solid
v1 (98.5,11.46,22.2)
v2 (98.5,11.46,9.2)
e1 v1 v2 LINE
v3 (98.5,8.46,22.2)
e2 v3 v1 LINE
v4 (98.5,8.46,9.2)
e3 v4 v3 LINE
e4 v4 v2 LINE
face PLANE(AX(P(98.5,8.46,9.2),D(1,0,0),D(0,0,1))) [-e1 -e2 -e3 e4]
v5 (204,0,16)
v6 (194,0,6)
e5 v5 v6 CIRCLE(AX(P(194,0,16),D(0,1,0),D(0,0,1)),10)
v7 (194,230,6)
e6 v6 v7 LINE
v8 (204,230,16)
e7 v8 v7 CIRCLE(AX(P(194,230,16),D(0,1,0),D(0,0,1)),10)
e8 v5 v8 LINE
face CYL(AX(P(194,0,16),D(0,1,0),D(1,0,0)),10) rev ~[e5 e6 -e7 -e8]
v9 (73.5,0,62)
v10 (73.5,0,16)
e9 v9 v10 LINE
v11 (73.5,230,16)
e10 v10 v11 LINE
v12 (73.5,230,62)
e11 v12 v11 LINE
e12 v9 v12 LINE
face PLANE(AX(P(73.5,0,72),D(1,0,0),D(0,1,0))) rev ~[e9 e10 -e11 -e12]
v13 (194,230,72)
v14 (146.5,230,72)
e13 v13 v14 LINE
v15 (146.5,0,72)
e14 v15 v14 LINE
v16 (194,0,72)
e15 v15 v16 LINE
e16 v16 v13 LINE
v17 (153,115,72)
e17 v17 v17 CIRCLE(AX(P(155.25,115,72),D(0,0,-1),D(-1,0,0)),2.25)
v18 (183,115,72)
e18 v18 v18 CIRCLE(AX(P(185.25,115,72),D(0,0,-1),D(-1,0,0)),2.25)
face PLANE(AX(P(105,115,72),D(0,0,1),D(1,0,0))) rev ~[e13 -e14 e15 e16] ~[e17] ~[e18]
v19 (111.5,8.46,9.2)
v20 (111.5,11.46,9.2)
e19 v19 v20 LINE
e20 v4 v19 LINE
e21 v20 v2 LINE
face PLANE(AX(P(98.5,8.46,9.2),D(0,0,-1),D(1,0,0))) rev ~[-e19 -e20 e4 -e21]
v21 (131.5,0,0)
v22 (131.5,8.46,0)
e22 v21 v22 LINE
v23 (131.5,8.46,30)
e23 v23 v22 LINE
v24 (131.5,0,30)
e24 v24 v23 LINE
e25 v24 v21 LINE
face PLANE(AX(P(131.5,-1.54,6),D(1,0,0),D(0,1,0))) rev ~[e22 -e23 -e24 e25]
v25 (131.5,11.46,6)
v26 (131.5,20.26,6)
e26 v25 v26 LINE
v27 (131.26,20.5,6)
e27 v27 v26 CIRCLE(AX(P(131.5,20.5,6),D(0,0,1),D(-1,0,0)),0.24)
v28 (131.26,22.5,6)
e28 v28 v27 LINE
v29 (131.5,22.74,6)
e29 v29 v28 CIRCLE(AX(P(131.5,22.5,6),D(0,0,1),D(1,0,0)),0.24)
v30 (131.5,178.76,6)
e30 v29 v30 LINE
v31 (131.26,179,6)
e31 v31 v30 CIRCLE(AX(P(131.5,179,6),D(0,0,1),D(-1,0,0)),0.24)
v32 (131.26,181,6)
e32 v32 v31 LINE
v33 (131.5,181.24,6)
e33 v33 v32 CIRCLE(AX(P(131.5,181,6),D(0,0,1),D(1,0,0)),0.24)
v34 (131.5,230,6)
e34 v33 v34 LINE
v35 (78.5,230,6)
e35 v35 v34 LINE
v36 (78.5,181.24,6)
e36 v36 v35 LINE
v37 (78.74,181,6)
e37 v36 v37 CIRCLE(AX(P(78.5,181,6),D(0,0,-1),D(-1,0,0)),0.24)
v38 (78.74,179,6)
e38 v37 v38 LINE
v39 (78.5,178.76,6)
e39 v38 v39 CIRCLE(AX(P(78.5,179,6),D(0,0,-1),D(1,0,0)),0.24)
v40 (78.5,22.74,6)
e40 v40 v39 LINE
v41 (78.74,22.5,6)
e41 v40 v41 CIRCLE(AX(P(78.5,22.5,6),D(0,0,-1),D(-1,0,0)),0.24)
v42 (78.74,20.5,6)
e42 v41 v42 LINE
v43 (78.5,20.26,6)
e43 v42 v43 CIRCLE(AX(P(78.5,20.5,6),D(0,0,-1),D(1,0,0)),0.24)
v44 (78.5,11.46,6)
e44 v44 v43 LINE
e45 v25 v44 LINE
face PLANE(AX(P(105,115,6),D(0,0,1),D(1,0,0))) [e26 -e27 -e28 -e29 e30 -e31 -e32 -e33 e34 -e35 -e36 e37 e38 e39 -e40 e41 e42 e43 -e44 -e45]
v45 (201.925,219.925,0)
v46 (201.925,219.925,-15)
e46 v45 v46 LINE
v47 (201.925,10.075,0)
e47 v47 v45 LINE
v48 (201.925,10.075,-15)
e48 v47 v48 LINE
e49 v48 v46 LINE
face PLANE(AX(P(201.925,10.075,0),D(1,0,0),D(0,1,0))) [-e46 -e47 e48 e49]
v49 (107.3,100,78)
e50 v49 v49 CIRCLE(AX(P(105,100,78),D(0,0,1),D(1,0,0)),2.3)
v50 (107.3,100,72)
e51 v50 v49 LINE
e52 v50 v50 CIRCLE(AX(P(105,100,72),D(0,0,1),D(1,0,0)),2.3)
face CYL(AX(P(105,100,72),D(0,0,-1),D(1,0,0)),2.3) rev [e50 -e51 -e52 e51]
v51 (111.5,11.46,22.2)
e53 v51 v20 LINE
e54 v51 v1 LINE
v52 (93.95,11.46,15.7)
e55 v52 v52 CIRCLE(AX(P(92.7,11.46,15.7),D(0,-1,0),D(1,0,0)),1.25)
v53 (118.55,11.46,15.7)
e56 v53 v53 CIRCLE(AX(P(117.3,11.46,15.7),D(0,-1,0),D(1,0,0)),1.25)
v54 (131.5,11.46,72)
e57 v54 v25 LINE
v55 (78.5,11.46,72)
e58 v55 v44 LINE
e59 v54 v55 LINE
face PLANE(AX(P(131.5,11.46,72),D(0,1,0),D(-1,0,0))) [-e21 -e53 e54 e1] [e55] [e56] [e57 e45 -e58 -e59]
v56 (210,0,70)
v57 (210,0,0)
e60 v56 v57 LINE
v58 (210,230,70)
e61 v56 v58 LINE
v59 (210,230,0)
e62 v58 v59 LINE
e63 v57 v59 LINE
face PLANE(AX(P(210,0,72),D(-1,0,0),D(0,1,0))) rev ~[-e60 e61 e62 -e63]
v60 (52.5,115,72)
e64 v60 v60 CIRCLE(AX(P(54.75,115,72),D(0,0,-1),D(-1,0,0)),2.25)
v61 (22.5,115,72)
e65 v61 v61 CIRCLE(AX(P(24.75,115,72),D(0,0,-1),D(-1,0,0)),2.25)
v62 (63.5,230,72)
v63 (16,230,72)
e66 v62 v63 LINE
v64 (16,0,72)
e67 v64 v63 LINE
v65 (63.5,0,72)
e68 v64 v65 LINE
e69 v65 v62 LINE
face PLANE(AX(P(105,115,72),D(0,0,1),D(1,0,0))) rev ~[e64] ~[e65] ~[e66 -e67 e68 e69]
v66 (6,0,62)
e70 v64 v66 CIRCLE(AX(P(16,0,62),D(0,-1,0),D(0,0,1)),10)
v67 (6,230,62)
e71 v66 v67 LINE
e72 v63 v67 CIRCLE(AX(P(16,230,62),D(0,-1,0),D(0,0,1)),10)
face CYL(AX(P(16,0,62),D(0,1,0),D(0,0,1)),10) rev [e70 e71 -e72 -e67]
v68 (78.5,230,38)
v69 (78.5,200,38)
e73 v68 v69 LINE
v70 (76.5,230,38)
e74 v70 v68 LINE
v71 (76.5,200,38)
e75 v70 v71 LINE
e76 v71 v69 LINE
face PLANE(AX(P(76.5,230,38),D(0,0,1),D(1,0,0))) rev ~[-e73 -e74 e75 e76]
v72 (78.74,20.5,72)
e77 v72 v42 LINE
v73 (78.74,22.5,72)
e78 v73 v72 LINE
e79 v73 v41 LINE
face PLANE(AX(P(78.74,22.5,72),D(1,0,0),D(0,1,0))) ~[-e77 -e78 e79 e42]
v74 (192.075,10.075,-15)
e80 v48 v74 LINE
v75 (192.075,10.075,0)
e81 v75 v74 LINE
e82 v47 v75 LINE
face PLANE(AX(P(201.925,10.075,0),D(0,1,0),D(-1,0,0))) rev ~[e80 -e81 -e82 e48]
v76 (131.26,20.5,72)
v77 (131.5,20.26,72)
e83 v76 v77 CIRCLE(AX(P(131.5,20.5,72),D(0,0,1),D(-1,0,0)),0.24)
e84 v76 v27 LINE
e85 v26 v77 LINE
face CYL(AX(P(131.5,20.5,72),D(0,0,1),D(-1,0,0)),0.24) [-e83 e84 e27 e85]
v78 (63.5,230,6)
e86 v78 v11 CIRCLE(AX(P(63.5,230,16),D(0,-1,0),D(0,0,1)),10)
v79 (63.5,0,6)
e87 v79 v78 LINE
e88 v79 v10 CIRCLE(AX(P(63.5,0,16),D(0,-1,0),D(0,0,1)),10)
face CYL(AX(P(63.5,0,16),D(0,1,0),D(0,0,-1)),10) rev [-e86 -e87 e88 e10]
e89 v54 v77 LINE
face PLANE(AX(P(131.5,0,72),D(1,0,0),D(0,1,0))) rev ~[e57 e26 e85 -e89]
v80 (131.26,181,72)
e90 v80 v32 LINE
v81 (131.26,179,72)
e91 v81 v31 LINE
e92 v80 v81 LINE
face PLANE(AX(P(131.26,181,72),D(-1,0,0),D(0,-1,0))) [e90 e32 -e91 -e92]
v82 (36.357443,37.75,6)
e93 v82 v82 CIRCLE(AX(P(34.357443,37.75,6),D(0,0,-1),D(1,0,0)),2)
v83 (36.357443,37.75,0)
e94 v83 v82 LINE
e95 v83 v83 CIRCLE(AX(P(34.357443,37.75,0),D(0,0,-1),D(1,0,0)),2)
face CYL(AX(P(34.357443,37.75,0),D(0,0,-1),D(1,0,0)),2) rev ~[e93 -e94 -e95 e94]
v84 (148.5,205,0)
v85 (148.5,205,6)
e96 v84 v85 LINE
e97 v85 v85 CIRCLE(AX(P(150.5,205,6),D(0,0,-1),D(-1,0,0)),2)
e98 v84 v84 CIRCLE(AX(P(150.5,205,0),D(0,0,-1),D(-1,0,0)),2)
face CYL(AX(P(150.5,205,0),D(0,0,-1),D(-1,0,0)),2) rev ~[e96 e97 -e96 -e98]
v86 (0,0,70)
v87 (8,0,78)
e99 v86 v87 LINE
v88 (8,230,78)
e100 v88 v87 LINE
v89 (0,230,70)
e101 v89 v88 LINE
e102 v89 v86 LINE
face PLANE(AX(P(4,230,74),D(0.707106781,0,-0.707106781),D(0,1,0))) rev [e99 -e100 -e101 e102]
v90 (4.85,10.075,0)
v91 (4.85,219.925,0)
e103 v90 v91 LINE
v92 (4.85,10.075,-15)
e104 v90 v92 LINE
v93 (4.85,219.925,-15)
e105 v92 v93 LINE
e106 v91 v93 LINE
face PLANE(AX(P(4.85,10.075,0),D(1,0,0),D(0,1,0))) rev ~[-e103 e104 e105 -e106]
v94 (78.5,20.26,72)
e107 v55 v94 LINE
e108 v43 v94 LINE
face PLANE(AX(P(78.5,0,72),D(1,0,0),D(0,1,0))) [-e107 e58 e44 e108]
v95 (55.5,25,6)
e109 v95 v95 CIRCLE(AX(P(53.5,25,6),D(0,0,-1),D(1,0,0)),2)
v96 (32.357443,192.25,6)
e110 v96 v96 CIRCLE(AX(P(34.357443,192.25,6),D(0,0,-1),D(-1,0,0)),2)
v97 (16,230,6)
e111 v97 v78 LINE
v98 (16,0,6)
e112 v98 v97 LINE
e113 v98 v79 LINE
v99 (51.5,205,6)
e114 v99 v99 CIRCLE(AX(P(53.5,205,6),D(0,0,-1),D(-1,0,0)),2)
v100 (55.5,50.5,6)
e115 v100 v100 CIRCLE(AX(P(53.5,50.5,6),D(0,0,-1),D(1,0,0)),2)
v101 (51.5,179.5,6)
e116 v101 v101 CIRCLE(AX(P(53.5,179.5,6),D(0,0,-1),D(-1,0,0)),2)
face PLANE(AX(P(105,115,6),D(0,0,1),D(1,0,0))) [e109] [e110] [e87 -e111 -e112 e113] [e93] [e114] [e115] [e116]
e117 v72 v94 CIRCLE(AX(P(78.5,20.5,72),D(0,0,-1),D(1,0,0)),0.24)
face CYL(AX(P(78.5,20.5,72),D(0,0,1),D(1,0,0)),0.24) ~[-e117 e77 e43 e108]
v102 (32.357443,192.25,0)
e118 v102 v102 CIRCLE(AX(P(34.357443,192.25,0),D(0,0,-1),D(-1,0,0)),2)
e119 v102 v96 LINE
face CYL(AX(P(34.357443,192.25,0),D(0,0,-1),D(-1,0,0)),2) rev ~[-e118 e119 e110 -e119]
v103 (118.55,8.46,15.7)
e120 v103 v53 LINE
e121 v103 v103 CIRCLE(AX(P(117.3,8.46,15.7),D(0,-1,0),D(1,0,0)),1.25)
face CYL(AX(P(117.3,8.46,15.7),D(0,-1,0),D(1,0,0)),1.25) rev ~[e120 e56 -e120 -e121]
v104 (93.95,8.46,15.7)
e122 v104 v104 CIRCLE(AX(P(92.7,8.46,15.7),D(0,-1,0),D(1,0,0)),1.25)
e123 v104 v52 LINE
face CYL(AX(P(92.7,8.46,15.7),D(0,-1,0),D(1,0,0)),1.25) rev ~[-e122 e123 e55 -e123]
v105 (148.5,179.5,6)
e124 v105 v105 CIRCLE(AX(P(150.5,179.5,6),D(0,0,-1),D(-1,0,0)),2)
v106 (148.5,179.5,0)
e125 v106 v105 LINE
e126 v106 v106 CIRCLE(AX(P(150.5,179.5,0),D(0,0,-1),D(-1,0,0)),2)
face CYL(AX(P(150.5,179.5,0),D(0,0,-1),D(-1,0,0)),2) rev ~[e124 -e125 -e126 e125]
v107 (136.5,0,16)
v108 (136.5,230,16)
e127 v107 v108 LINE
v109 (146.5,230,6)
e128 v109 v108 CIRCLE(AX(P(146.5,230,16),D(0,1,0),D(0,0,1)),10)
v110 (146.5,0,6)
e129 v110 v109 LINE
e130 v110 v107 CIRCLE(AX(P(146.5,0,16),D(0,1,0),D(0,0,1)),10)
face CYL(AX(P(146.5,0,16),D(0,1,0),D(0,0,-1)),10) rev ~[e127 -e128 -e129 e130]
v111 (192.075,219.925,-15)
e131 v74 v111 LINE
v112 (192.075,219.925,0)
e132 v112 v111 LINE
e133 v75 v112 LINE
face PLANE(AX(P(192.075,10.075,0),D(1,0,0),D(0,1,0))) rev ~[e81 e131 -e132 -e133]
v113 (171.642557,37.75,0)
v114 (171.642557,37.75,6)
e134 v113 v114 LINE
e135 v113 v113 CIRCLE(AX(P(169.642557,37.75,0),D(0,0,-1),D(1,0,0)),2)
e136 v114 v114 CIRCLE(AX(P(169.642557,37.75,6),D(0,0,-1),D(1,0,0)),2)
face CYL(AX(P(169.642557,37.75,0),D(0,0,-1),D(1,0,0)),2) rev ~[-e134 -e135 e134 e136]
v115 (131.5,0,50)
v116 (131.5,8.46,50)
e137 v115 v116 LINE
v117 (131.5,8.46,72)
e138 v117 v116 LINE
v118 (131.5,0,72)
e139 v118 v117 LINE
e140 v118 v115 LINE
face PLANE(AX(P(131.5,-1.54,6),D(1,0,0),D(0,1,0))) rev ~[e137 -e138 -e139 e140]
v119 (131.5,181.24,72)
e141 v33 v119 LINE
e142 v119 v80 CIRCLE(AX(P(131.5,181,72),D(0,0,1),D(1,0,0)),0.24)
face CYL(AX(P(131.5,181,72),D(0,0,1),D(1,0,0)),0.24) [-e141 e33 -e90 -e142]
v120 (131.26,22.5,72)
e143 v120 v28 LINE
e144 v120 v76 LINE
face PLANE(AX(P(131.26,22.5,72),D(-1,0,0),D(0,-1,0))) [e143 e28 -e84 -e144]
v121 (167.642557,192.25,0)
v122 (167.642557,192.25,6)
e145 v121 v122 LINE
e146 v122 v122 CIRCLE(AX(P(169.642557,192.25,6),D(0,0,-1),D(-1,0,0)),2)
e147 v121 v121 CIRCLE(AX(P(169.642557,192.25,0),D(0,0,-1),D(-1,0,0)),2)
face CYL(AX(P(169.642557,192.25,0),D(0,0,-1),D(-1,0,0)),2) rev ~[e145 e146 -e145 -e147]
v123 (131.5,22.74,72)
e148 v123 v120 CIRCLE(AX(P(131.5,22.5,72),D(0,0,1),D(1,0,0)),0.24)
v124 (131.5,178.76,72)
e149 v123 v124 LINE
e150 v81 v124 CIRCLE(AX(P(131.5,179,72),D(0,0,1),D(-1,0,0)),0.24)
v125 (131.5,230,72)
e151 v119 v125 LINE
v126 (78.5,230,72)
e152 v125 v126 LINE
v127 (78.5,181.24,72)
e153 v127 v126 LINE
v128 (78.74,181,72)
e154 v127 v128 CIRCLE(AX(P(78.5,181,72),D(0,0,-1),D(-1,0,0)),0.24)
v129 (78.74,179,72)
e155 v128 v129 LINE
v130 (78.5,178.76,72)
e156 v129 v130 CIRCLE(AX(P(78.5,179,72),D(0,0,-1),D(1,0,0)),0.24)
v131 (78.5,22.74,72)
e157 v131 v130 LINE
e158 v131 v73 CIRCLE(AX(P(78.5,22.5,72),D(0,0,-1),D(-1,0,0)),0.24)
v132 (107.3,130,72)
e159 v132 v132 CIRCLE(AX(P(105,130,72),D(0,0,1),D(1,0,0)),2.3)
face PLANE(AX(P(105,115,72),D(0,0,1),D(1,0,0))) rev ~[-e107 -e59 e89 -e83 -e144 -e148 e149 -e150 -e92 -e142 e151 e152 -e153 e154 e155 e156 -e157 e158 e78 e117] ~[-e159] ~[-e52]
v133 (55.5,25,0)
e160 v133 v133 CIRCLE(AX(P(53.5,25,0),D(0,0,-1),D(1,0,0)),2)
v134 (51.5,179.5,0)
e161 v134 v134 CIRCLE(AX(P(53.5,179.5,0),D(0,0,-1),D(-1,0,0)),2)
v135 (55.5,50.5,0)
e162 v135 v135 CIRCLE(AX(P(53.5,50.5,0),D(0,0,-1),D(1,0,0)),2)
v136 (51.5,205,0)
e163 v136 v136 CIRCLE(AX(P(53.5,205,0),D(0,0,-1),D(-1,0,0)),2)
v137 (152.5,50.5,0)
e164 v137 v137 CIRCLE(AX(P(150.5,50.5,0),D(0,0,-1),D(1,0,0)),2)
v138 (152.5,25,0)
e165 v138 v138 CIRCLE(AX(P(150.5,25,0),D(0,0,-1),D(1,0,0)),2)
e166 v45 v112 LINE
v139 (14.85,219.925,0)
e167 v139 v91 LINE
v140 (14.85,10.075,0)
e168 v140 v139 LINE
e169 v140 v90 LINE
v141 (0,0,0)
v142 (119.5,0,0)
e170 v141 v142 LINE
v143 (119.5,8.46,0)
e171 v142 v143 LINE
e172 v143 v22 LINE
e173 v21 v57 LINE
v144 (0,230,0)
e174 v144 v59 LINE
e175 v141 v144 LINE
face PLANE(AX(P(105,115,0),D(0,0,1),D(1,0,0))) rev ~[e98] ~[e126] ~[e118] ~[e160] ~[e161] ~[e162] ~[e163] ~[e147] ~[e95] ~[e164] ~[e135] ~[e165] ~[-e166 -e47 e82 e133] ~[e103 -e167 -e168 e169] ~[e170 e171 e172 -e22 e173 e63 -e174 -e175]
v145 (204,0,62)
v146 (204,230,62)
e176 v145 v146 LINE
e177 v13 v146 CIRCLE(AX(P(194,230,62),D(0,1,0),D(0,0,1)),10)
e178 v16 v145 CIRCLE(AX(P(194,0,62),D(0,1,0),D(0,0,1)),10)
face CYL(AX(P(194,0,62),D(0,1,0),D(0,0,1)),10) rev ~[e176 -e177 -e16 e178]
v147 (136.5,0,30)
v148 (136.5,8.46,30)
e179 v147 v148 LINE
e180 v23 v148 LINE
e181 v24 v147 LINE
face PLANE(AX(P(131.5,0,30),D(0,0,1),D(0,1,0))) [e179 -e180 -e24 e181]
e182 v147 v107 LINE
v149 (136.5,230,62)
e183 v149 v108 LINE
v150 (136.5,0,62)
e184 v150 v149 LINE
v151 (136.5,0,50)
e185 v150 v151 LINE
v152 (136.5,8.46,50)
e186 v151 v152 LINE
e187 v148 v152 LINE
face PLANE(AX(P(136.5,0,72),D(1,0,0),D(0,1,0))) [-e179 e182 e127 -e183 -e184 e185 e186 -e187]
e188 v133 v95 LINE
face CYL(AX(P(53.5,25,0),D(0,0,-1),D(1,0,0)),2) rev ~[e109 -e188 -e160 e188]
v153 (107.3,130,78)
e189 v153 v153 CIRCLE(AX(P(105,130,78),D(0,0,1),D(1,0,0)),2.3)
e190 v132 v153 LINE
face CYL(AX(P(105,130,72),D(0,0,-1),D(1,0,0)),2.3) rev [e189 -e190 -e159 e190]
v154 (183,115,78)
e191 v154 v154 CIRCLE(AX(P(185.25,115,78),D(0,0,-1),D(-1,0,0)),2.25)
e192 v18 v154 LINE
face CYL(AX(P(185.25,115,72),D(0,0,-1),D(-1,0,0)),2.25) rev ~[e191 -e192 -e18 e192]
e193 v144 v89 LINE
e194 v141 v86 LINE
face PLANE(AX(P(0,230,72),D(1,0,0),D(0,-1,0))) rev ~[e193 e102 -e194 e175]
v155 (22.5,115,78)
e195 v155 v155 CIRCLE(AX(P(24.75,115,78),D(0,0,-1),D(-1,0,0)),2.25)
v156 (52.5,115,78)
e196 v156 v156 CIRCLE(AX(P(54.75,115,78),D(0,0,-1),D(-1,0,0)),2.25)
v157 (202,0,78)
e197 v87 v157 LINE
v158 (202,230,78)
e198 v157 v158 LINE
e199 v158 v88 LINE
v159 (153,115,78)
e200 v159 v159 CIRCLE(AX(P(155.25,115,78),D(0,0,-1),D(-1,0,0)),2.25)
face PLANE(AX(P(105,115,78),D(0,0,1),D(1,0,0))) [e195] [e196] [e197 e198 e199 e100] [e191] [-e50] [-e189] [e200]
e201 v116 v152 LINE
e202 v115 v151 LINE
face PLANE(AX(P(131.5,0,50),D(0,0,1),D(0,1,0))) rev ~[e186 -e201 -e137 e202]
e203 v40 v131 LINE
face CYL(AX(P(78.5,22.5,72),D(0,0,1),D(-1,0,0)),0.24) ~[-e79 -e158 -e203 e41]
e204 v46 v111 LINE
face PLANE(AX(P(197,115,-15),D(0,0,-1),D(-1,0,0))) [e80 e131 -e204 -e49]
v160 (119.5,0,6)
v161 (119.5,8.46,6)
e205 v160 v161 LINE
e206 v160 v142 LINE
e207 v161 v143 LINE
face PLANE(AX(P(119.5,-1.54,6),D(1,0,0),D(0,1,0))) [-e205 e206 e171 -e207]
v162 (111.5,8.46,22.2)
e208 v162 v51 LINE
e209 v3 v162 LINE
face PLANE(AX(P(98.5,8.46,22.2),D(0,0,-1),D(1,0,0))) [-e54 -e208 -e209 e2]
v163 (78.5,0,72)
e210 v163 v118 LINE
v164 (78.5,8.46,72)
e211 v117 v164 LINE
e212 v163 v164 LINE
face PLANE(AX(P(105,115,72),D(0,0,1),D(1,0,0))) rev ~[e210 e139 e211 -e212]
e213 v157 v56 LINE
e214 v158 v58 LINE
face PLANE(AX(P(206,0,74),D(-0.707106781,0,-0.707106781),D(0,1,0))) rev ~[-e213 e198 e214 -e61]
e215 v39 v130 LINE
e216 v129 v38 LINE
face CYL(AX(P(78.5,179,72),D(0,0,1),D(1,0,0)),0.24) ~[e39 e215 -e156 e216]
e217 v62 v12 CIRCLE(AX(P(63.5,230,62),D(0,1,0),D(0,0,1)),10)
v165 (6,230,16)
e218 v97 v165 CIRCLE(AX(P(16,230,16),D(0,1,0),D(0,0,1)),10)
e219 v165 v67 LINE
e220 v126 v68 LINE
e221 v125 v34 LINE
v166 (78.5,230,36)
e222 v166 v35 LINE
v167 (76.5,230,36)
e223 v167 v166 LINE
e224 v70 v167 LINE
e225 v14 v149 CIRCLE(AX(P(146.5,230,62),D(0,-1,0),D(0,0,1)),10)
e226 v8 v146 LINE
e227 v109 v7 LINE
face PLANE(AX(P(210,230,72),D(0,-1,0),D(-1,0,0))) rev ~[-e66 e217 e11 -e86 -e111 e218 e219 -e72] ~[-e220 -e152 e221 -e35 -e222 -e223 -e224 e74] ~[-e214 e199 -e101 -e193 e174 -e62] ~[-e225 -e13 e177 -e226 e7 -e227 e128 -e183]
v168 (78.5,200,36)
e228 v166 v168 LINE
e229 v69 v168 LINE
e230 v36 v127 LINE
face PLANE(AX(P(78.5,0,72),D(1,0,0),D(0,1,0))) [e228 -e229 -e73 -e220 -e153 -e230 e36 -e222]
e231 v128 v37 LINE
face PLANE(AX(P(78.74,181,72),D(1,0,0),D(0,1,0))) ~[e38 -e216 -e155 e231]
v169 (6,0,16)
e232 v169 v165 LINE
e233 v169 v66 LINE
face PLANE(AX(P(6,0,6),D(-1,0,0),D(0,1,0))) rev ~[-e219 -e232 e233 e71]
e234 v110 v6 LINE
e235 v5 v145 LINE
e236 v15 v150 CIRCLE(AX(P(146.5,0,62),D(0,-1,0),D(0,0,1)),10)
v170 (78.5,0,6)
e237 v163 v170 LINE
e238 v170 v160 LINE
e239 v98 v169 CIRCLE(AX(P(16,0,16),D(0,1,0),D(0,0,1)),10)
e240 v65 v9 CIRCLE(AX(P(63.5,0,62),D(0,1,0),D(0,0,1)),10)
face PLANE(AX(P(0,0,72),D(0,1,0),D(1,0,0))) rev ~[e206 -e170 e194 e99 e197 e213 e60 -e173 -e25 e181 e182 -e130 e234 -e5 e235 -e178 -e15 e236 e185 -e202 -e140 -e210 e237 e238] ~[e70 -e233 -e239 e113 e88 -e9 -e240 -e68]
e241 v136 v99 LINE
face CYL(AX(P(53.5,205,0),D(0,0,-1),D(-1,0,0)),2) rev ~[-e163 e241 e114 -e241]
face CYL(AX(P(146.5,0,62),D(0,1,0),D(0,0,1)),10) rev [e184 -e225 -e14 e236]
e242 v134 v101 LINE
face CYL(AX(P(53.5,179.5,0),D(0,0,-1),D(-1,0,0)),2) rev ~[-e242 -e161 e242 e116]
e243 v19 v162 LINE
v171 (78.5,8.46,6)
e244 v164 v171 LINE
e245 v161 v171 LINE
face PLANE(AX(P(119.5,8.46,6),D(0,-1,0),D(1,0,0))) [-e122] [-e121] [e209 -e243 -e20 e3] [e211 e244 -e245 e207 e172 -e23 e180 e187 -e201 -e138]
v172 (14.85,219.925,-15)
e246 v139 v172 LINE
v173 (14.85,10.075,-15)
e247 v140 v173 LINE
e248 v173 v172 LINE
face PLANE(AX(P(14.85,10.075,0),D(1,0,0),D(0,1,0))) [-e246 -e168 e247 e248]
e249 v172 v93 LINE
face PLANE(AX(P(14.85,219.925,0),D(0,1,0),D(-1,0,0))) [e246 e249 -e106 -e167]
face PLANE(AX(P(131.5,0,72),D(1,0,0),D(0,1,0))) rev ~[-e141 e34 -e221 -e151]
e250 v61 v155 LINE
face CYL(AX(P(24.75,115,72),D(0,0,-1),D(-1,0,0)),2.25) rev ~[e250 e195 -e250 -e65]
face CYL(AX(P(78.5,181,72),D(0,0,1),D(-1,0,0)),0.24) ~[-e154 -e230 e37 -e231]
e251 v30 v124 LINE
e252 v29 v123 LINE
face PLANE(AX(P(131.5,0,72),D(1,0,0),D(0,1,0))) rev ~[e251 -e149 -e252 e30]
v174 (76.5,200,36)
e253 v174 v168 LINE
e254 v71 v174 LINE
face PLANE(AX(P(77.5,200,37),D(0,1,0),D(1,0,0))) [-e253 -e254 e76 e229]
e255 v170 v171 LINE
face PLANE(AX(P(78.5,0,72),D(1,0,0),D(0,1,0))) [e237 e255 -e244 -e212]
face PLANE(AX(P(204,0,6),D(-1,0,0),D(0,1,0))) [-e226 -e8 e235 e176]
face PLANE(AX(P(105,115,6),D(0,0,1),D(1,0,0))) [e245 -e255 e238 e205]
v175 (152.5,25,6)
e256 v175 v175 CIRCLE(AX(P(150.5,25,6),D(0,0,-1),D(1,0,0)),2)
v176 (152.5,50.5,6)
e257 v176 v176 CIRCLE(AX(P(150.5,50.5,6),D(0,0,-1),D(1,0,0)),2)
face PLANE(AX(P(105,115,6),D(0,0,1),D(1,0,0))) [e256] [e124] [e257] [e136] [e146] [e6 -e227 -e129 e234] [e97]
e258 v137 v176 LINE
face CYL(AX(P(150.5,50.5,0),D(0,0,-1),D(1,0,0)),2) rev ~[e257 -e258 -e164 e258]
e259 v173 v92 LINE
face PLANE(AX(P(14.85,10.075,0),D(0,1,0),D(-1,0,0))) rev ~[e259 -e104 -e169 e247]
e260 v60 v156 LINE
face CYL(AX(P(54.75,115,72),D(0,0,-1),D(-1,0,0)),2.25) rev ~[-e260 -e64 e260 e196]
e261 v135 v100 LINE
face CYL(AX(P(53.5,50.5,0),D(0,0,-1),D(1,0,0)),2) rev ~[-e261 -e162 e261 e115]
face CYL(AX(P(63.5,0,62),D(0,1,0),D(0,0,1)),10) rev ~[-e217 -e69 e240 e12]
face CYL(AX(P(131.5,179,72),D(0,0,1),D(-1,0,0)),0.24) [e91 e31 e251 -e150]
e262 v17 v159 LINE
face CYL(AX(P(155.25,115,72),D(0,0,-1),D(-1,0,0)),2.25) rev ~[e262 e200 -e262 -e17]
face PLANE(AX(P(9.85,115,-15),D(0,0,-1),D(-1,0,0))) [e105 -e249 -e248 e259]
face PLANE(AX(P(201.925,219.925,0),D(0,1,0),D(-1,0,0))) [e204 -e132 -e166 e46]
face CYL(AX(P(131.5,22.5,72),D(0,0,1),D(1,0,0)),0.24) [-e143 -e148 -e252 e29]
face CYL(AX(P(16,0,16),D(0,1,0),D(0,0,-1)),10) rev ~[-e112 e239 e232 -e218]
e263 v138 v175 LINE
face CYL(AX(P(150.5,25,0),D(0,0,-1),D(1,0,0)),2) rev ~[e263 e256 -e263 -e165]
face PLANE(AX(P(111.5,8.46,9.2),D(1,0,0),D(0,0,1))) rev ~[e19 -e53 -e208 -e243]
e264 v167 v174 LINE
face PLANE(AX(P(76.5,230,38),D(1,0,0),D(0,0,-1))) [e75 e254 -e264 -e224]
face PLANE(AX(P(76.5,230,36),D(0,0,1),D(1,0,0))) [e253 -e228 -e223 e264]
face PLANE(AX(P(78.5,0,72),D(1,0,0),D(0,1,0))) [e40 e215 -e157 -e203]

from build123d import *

# Parameters (mm, degrees)
SKETCH_1_W           = 210
SKETCH_1_H           = 230
EXTRUDE_1_DEPTH      = 6
SKETCH_2_W           = 9.85
SKETCH_2_H           = 209.85
SKETCH_2_W_2         = 10
EXTRUDE_3_DEPTH      = 15
SKETCH_3_R           = 2
CUT_EXTRUDE_1_DEPTH  = 10
SKETCH_17_W          = 6
SKETCH_17_H          = 230
EXTRUDE_9_DEPTH      = 66
EXTRUDE_10_DEPTH     = 6
CHAMFER_3_SIZE       = 8
SKETCH_19_W          = 5
SKETCH_19_H          = 230
EXTRUDE_11_DEPTH     = 66
FILLET_4_R           = 10
SKETCH_21_R          = 2.3
CUT_EXTRUDE_9_DEPTH  = 6
EXTRUDE_13_DEPTH     = 66
SKETCH_28_W          = 53
SKETCH_28_H          = 3
EXTRUDE_14_DEPTH     = 66
SKETCH_30_W          = 2
SKETCH_30_H          = 2
CUT_EXTRUDE_10_DEPTH = 30
SKETCH_31_R          = 1.25
SKETCH_31_W          = 13
SKETCH_31_H          = 13
CUT_EXTRUDE_11_DEPTH = 316.06185361
SKETCH_32_W          = 12
SKETCH_32_H          = 10
CUT_EXTRUDE_12_DEPTH = 320.662321834
CUT_EXTRUDE_13_REACH = 278.182
SKETCH_33_W          = 20
SKETCH_33_H          = 8.46
SKETCH_34_R          = 2.25
CUT_EXTRUDE_14_DEPTH = 30
SKETCH_36_R          = 2.25
CUT_EXTRUDE_15_DEPTH = 30


with BuildPart() as part:
    # 草图1 → 凸台-拉伸1 (new body)
    with BuildSketch(Plane.XY):
        with Locations((105, 115)):
            Rectangle(SKETCH_1_W, SKETCH_1_H)
    extrude(amount=EXTRUDE_1_DEPTH)

    # 草图2 → 凸台-拉伸3 (add)
    with BuildSketch(Plane(origin=(0, 0, 0), x_dir=(-1, 0, 0), z_dir=(0, 0, -1))):
        with Locations((-197, 115)):
            Rectangle(SKETCH_2_W, SKETCH_2_H)
        with Locations((-9.85, 115)):
            Rectangle(SKETCH_2_W_2, SKETCH_2_H)
    extrude(amount=EXTRUDE_3_DEPTH)

    # 草图3 → 切除-拉伸1 (cut)
    with BuildSketch(Plane(origin=(0, 0, 0), x_dir=(-1, 0, 0), z_dir=(0, 0, -1))):
        with Locations((-169.6425573, 192.25)):
            Circle(SKETCH_3_R)
        with Locations((-150.5, 205)):
            Circle(SKETCH_3_R)
        with Locations((-150.5, 179.5)):
            Circle(SKETCH_3_R)
        with Locations(Location((-150.5, 50.5, 0), (0, 0, 180))):
            Circle(SKETCH_3_R)
        with Locations(Location((-150.5, 25, 0), (0, 0, 180))):
            Circle(SKETCH_3_R)
        with Locations(Location((-169.6425573, 37.75, 0), (0, 0, 180))):
            Circle(SKETCH_3_R)
        with Locations((-34.3574427, 192.25)):
            Circle(SKETCH_3_R)
        with Locations((-53.5, 205)):
            Circle(SKETCH_3_R)
        with Locations((-53.5, 179.5)):
            Circle(SKETCH_3_R)
        with Locations(Location((-53.5, 50.5, 0), (0, 0, 180))):
            Circle(SKETCH_3_R)
        with Locations(Location((-53.5, 25, 0), (0, 0, 180))):
            Circle(SKETCH_3_R)
        with Locations(Location((-34.3574427, 37.75, 0), (0, 0, 180))):
            Circle(SKETCH_3_R)
    extrude(amount=-CUT_EXTRUDE_1_DEPTH, mode=Mode.SUBTRACT)

    # 草图17 → 凸台-拉伸9 (add)
    with BuildSketch(Plane.XY.offset(6)):
        with Locations((3, 115)):
            Rectangle(SKETCH_17_W, SKETCH_17_H)
        with Locations((207, 115)):
            Rectangle(SKETCH_17_W, SKETCH_17_H)
    extrude(amount=EXTRUDE_9_DEPTH)

    # 草图18 → 凸台-拉伸10 (add)
    with BuildSketch(Plane.XY.offset(72)):
        Polygon((210, 230), (204, 230), (6, 230), (0, 230), (0, 0), (6, 0), (204, 0), (210, 0), align=None)
    extrude(amount=EXTRUDE_10_DEPTH)

    # 倒角3
    chamfer_3_edges = [part.edges().sort_by_distance(p)[0] for p in [
        (210, 115, 78),
        (0, 115, 78),
    ]]
    chamfer(chamfer_3_edges, length=CHAMFER_3_SIZE)

    # 草图19 → 凸台-拉伸11 (add)
    with BuildSketch(Plane(origin=(0, 0, 72), x_dir=(-1, 0, 0), z_dir=(0, 0, -1))):
        with Locations((-134, 115)):
            Rectangle(SKETCH_19_W, SKETCH_19_H)
        with Locations((-76, 115)):
            Rectangle(SKETCH_19_W, SKETCH_19_H)
    extrude(amount=EXTRUDE_11_DEPTH)

    # 圆角4
    fillet_4_edges = [part.edges().sort_by_distance(p)[0] for p in [
        (6, 115, 6),
        (6, 115, 72),
        (204, 115, 6),
        (204, 115, 72),
        (73.5, 115, 6),
        (73.5, 115, 72),
        (136.5, 115, 72),
        (136.5, 115, 6),
    ]]
    fillet(fillet_4_edges, radius=FILLET_4_R)

    # 草图21 → 切除-拉伸9 (cut)
    with BuildSketch(Plane.XY.offset(72)):
        with Locations((105, 130)):
            Circle(SKETCH_21_R)
        with Locations((105, 100)):
            Circle(SKETCH_21_R)
    extrude(amount=CUT_EXTRUDE_9_DEPTH, mode=Mode.SUBTRACT)

    # 草图26 → 凸台-拉伸13 (add)
    with BuildSketch(Plane(origin=(0, 0, 72), x_dir=(-1, 0, 0), z_dir=(0, 0, -1))):
        with BuildLine():
            Line((-131.26, 181), (-131.26, 179))
            ThreePointArc((-131.26, 179), (-131.5, 178.76), (-131.74, 179))
            Line((-131.74, 179), (-131.74, 181))
            ThreePointArc((-131.74, 181), (-131.5, 181.24), (-131.26, 181))
        make_face()
        with BuildLine():
            Line((-131.26, 22.5), (-131.26, 20.5))
            ThreePointArc((-131.26, 20.5), (-131.5, 20.26), (-131.74, 20.5))
            Line((-131.74, 20.5), (-131.74, 22.5))
            ThreePointArc((-131.74, 22.5), (-131.5, 22.74), (-131.26, 22.5))
        make_face()
    extrude_13 = extrude(amount=EXTRUDE_13_DEPTH)

    # 镜向2: 凸台-拉伸13 across plane
    add(extrude_13.mirror(Plane.ZY.offset(-105)))

    # 草图28 → 凸台-拉伸14 (add)
    with BuildSketch(Plane(origin=(0, 0, 72), x_dir=(-1, 0, 0), z_dir=(0, 0, -1))):
        with Locations((-105, 9.96)):
            Rectangle(SKETCH_28_W, SKETCH_28_H)
    extrude(amount=EXTRUDE_14_DEPTH)

    # 草图30 → 切除-拉伸10 (cut)
    with BuildSketch(Plane(origin=(0, 230, 0), x_dir=(1, 0, 0), z_dir=(0, 1, 0))):
        with Locations((77.5, -37)):
            Rectangle(SKETCH_30_W, SKETCH_30_H)
    extrude(amount=-CUT_EXTRUDE_10_DEPTH, mode=Mode.SUBTRACT)

    # 草图31 → 切除-拉伸11 (cut, through all)
    with BuildSketch(Plane.XZ.offset(-8.46)):
        with Locations((92.7, 15.7)):
            Circle(SKETCH_31_R)
        with Locations((117.3, 15.7)):
            Circle(SKETCH_31_R)
        with Locations((105, 15.7)):
            Rectangle(SKETCH_31_W, SKETCH_31_H)
    extrude(amount=-CUT_EXTRUDE_11_DEPTH, mode=Mode.SUBTRACT)

    # 草图32 → 切除-拉伸12 (cut, through all)
    with BuildSketch(Plane.XY.offset(6)):
        with Locations((125.5, 3.46)):
            Rectangle(SKETCH_32_W, SKETCH_32_H)
    extrude(amount=-CUT_EXTRUDE_12_DEPTH, mode=Mode.SUBTRACT)

    # 草图33 → 切除-拉伸13 (cut, up to next)
    with BuildSketch(Plane.ZY.offset(-131.5), mode=Mode.PRIVATE) as cut_extrude_13_sk1:
        with Locations((40, 4.23)):
            Rectangle(SKETCH_33_W, SKETCH_33_H)
    cut_extrude_13_tool1 = extrude(cut_extrude_13_sk1.sketch, amount=-CUT_EXTRUDE_13_REACH, mode=Mode.PRIVATE) & part.part
    add(cut_extrude_13_tool1.solids().sort_by_distance((131.5, 4.23, 40))[0], mode=Mode.SUBTRACT)

    # 草图34 → 切除-拉伸14 (cut)
    with BuildSketch(Plane(origin=(0, 0, 72), x_dir=(-1, 0, 0), z_dir=(0, 0, -1))):
        with Locations((-185.25, 115)):
            Circle(SKETCH_34_R)
        with Locations((-155.25, 115)):
            Circle(SKETCH_34_R)
    extrude(amount=-CUT_EXTRUDE_14_DEPTH, mode=Mode.SUBTRACT)

    # 草图36 → 切除-拉伸15 (cut)
    with BuildSketch(Plane(origin=(0, 0, 72), x_dir=(-1, 0, 0), z_dir=(0, 0, -1))):
        with Locations((-54.75, 115)):
            Circle(SKETCH_36_R)
        with Locations((-24.75, 115)):
            Circle(SKETCH_36_R)
    extrude(amount=-CUT_EXTRUDE_15_DEPTH, mode=Mode.SUBTRACT)


solid = part.part
